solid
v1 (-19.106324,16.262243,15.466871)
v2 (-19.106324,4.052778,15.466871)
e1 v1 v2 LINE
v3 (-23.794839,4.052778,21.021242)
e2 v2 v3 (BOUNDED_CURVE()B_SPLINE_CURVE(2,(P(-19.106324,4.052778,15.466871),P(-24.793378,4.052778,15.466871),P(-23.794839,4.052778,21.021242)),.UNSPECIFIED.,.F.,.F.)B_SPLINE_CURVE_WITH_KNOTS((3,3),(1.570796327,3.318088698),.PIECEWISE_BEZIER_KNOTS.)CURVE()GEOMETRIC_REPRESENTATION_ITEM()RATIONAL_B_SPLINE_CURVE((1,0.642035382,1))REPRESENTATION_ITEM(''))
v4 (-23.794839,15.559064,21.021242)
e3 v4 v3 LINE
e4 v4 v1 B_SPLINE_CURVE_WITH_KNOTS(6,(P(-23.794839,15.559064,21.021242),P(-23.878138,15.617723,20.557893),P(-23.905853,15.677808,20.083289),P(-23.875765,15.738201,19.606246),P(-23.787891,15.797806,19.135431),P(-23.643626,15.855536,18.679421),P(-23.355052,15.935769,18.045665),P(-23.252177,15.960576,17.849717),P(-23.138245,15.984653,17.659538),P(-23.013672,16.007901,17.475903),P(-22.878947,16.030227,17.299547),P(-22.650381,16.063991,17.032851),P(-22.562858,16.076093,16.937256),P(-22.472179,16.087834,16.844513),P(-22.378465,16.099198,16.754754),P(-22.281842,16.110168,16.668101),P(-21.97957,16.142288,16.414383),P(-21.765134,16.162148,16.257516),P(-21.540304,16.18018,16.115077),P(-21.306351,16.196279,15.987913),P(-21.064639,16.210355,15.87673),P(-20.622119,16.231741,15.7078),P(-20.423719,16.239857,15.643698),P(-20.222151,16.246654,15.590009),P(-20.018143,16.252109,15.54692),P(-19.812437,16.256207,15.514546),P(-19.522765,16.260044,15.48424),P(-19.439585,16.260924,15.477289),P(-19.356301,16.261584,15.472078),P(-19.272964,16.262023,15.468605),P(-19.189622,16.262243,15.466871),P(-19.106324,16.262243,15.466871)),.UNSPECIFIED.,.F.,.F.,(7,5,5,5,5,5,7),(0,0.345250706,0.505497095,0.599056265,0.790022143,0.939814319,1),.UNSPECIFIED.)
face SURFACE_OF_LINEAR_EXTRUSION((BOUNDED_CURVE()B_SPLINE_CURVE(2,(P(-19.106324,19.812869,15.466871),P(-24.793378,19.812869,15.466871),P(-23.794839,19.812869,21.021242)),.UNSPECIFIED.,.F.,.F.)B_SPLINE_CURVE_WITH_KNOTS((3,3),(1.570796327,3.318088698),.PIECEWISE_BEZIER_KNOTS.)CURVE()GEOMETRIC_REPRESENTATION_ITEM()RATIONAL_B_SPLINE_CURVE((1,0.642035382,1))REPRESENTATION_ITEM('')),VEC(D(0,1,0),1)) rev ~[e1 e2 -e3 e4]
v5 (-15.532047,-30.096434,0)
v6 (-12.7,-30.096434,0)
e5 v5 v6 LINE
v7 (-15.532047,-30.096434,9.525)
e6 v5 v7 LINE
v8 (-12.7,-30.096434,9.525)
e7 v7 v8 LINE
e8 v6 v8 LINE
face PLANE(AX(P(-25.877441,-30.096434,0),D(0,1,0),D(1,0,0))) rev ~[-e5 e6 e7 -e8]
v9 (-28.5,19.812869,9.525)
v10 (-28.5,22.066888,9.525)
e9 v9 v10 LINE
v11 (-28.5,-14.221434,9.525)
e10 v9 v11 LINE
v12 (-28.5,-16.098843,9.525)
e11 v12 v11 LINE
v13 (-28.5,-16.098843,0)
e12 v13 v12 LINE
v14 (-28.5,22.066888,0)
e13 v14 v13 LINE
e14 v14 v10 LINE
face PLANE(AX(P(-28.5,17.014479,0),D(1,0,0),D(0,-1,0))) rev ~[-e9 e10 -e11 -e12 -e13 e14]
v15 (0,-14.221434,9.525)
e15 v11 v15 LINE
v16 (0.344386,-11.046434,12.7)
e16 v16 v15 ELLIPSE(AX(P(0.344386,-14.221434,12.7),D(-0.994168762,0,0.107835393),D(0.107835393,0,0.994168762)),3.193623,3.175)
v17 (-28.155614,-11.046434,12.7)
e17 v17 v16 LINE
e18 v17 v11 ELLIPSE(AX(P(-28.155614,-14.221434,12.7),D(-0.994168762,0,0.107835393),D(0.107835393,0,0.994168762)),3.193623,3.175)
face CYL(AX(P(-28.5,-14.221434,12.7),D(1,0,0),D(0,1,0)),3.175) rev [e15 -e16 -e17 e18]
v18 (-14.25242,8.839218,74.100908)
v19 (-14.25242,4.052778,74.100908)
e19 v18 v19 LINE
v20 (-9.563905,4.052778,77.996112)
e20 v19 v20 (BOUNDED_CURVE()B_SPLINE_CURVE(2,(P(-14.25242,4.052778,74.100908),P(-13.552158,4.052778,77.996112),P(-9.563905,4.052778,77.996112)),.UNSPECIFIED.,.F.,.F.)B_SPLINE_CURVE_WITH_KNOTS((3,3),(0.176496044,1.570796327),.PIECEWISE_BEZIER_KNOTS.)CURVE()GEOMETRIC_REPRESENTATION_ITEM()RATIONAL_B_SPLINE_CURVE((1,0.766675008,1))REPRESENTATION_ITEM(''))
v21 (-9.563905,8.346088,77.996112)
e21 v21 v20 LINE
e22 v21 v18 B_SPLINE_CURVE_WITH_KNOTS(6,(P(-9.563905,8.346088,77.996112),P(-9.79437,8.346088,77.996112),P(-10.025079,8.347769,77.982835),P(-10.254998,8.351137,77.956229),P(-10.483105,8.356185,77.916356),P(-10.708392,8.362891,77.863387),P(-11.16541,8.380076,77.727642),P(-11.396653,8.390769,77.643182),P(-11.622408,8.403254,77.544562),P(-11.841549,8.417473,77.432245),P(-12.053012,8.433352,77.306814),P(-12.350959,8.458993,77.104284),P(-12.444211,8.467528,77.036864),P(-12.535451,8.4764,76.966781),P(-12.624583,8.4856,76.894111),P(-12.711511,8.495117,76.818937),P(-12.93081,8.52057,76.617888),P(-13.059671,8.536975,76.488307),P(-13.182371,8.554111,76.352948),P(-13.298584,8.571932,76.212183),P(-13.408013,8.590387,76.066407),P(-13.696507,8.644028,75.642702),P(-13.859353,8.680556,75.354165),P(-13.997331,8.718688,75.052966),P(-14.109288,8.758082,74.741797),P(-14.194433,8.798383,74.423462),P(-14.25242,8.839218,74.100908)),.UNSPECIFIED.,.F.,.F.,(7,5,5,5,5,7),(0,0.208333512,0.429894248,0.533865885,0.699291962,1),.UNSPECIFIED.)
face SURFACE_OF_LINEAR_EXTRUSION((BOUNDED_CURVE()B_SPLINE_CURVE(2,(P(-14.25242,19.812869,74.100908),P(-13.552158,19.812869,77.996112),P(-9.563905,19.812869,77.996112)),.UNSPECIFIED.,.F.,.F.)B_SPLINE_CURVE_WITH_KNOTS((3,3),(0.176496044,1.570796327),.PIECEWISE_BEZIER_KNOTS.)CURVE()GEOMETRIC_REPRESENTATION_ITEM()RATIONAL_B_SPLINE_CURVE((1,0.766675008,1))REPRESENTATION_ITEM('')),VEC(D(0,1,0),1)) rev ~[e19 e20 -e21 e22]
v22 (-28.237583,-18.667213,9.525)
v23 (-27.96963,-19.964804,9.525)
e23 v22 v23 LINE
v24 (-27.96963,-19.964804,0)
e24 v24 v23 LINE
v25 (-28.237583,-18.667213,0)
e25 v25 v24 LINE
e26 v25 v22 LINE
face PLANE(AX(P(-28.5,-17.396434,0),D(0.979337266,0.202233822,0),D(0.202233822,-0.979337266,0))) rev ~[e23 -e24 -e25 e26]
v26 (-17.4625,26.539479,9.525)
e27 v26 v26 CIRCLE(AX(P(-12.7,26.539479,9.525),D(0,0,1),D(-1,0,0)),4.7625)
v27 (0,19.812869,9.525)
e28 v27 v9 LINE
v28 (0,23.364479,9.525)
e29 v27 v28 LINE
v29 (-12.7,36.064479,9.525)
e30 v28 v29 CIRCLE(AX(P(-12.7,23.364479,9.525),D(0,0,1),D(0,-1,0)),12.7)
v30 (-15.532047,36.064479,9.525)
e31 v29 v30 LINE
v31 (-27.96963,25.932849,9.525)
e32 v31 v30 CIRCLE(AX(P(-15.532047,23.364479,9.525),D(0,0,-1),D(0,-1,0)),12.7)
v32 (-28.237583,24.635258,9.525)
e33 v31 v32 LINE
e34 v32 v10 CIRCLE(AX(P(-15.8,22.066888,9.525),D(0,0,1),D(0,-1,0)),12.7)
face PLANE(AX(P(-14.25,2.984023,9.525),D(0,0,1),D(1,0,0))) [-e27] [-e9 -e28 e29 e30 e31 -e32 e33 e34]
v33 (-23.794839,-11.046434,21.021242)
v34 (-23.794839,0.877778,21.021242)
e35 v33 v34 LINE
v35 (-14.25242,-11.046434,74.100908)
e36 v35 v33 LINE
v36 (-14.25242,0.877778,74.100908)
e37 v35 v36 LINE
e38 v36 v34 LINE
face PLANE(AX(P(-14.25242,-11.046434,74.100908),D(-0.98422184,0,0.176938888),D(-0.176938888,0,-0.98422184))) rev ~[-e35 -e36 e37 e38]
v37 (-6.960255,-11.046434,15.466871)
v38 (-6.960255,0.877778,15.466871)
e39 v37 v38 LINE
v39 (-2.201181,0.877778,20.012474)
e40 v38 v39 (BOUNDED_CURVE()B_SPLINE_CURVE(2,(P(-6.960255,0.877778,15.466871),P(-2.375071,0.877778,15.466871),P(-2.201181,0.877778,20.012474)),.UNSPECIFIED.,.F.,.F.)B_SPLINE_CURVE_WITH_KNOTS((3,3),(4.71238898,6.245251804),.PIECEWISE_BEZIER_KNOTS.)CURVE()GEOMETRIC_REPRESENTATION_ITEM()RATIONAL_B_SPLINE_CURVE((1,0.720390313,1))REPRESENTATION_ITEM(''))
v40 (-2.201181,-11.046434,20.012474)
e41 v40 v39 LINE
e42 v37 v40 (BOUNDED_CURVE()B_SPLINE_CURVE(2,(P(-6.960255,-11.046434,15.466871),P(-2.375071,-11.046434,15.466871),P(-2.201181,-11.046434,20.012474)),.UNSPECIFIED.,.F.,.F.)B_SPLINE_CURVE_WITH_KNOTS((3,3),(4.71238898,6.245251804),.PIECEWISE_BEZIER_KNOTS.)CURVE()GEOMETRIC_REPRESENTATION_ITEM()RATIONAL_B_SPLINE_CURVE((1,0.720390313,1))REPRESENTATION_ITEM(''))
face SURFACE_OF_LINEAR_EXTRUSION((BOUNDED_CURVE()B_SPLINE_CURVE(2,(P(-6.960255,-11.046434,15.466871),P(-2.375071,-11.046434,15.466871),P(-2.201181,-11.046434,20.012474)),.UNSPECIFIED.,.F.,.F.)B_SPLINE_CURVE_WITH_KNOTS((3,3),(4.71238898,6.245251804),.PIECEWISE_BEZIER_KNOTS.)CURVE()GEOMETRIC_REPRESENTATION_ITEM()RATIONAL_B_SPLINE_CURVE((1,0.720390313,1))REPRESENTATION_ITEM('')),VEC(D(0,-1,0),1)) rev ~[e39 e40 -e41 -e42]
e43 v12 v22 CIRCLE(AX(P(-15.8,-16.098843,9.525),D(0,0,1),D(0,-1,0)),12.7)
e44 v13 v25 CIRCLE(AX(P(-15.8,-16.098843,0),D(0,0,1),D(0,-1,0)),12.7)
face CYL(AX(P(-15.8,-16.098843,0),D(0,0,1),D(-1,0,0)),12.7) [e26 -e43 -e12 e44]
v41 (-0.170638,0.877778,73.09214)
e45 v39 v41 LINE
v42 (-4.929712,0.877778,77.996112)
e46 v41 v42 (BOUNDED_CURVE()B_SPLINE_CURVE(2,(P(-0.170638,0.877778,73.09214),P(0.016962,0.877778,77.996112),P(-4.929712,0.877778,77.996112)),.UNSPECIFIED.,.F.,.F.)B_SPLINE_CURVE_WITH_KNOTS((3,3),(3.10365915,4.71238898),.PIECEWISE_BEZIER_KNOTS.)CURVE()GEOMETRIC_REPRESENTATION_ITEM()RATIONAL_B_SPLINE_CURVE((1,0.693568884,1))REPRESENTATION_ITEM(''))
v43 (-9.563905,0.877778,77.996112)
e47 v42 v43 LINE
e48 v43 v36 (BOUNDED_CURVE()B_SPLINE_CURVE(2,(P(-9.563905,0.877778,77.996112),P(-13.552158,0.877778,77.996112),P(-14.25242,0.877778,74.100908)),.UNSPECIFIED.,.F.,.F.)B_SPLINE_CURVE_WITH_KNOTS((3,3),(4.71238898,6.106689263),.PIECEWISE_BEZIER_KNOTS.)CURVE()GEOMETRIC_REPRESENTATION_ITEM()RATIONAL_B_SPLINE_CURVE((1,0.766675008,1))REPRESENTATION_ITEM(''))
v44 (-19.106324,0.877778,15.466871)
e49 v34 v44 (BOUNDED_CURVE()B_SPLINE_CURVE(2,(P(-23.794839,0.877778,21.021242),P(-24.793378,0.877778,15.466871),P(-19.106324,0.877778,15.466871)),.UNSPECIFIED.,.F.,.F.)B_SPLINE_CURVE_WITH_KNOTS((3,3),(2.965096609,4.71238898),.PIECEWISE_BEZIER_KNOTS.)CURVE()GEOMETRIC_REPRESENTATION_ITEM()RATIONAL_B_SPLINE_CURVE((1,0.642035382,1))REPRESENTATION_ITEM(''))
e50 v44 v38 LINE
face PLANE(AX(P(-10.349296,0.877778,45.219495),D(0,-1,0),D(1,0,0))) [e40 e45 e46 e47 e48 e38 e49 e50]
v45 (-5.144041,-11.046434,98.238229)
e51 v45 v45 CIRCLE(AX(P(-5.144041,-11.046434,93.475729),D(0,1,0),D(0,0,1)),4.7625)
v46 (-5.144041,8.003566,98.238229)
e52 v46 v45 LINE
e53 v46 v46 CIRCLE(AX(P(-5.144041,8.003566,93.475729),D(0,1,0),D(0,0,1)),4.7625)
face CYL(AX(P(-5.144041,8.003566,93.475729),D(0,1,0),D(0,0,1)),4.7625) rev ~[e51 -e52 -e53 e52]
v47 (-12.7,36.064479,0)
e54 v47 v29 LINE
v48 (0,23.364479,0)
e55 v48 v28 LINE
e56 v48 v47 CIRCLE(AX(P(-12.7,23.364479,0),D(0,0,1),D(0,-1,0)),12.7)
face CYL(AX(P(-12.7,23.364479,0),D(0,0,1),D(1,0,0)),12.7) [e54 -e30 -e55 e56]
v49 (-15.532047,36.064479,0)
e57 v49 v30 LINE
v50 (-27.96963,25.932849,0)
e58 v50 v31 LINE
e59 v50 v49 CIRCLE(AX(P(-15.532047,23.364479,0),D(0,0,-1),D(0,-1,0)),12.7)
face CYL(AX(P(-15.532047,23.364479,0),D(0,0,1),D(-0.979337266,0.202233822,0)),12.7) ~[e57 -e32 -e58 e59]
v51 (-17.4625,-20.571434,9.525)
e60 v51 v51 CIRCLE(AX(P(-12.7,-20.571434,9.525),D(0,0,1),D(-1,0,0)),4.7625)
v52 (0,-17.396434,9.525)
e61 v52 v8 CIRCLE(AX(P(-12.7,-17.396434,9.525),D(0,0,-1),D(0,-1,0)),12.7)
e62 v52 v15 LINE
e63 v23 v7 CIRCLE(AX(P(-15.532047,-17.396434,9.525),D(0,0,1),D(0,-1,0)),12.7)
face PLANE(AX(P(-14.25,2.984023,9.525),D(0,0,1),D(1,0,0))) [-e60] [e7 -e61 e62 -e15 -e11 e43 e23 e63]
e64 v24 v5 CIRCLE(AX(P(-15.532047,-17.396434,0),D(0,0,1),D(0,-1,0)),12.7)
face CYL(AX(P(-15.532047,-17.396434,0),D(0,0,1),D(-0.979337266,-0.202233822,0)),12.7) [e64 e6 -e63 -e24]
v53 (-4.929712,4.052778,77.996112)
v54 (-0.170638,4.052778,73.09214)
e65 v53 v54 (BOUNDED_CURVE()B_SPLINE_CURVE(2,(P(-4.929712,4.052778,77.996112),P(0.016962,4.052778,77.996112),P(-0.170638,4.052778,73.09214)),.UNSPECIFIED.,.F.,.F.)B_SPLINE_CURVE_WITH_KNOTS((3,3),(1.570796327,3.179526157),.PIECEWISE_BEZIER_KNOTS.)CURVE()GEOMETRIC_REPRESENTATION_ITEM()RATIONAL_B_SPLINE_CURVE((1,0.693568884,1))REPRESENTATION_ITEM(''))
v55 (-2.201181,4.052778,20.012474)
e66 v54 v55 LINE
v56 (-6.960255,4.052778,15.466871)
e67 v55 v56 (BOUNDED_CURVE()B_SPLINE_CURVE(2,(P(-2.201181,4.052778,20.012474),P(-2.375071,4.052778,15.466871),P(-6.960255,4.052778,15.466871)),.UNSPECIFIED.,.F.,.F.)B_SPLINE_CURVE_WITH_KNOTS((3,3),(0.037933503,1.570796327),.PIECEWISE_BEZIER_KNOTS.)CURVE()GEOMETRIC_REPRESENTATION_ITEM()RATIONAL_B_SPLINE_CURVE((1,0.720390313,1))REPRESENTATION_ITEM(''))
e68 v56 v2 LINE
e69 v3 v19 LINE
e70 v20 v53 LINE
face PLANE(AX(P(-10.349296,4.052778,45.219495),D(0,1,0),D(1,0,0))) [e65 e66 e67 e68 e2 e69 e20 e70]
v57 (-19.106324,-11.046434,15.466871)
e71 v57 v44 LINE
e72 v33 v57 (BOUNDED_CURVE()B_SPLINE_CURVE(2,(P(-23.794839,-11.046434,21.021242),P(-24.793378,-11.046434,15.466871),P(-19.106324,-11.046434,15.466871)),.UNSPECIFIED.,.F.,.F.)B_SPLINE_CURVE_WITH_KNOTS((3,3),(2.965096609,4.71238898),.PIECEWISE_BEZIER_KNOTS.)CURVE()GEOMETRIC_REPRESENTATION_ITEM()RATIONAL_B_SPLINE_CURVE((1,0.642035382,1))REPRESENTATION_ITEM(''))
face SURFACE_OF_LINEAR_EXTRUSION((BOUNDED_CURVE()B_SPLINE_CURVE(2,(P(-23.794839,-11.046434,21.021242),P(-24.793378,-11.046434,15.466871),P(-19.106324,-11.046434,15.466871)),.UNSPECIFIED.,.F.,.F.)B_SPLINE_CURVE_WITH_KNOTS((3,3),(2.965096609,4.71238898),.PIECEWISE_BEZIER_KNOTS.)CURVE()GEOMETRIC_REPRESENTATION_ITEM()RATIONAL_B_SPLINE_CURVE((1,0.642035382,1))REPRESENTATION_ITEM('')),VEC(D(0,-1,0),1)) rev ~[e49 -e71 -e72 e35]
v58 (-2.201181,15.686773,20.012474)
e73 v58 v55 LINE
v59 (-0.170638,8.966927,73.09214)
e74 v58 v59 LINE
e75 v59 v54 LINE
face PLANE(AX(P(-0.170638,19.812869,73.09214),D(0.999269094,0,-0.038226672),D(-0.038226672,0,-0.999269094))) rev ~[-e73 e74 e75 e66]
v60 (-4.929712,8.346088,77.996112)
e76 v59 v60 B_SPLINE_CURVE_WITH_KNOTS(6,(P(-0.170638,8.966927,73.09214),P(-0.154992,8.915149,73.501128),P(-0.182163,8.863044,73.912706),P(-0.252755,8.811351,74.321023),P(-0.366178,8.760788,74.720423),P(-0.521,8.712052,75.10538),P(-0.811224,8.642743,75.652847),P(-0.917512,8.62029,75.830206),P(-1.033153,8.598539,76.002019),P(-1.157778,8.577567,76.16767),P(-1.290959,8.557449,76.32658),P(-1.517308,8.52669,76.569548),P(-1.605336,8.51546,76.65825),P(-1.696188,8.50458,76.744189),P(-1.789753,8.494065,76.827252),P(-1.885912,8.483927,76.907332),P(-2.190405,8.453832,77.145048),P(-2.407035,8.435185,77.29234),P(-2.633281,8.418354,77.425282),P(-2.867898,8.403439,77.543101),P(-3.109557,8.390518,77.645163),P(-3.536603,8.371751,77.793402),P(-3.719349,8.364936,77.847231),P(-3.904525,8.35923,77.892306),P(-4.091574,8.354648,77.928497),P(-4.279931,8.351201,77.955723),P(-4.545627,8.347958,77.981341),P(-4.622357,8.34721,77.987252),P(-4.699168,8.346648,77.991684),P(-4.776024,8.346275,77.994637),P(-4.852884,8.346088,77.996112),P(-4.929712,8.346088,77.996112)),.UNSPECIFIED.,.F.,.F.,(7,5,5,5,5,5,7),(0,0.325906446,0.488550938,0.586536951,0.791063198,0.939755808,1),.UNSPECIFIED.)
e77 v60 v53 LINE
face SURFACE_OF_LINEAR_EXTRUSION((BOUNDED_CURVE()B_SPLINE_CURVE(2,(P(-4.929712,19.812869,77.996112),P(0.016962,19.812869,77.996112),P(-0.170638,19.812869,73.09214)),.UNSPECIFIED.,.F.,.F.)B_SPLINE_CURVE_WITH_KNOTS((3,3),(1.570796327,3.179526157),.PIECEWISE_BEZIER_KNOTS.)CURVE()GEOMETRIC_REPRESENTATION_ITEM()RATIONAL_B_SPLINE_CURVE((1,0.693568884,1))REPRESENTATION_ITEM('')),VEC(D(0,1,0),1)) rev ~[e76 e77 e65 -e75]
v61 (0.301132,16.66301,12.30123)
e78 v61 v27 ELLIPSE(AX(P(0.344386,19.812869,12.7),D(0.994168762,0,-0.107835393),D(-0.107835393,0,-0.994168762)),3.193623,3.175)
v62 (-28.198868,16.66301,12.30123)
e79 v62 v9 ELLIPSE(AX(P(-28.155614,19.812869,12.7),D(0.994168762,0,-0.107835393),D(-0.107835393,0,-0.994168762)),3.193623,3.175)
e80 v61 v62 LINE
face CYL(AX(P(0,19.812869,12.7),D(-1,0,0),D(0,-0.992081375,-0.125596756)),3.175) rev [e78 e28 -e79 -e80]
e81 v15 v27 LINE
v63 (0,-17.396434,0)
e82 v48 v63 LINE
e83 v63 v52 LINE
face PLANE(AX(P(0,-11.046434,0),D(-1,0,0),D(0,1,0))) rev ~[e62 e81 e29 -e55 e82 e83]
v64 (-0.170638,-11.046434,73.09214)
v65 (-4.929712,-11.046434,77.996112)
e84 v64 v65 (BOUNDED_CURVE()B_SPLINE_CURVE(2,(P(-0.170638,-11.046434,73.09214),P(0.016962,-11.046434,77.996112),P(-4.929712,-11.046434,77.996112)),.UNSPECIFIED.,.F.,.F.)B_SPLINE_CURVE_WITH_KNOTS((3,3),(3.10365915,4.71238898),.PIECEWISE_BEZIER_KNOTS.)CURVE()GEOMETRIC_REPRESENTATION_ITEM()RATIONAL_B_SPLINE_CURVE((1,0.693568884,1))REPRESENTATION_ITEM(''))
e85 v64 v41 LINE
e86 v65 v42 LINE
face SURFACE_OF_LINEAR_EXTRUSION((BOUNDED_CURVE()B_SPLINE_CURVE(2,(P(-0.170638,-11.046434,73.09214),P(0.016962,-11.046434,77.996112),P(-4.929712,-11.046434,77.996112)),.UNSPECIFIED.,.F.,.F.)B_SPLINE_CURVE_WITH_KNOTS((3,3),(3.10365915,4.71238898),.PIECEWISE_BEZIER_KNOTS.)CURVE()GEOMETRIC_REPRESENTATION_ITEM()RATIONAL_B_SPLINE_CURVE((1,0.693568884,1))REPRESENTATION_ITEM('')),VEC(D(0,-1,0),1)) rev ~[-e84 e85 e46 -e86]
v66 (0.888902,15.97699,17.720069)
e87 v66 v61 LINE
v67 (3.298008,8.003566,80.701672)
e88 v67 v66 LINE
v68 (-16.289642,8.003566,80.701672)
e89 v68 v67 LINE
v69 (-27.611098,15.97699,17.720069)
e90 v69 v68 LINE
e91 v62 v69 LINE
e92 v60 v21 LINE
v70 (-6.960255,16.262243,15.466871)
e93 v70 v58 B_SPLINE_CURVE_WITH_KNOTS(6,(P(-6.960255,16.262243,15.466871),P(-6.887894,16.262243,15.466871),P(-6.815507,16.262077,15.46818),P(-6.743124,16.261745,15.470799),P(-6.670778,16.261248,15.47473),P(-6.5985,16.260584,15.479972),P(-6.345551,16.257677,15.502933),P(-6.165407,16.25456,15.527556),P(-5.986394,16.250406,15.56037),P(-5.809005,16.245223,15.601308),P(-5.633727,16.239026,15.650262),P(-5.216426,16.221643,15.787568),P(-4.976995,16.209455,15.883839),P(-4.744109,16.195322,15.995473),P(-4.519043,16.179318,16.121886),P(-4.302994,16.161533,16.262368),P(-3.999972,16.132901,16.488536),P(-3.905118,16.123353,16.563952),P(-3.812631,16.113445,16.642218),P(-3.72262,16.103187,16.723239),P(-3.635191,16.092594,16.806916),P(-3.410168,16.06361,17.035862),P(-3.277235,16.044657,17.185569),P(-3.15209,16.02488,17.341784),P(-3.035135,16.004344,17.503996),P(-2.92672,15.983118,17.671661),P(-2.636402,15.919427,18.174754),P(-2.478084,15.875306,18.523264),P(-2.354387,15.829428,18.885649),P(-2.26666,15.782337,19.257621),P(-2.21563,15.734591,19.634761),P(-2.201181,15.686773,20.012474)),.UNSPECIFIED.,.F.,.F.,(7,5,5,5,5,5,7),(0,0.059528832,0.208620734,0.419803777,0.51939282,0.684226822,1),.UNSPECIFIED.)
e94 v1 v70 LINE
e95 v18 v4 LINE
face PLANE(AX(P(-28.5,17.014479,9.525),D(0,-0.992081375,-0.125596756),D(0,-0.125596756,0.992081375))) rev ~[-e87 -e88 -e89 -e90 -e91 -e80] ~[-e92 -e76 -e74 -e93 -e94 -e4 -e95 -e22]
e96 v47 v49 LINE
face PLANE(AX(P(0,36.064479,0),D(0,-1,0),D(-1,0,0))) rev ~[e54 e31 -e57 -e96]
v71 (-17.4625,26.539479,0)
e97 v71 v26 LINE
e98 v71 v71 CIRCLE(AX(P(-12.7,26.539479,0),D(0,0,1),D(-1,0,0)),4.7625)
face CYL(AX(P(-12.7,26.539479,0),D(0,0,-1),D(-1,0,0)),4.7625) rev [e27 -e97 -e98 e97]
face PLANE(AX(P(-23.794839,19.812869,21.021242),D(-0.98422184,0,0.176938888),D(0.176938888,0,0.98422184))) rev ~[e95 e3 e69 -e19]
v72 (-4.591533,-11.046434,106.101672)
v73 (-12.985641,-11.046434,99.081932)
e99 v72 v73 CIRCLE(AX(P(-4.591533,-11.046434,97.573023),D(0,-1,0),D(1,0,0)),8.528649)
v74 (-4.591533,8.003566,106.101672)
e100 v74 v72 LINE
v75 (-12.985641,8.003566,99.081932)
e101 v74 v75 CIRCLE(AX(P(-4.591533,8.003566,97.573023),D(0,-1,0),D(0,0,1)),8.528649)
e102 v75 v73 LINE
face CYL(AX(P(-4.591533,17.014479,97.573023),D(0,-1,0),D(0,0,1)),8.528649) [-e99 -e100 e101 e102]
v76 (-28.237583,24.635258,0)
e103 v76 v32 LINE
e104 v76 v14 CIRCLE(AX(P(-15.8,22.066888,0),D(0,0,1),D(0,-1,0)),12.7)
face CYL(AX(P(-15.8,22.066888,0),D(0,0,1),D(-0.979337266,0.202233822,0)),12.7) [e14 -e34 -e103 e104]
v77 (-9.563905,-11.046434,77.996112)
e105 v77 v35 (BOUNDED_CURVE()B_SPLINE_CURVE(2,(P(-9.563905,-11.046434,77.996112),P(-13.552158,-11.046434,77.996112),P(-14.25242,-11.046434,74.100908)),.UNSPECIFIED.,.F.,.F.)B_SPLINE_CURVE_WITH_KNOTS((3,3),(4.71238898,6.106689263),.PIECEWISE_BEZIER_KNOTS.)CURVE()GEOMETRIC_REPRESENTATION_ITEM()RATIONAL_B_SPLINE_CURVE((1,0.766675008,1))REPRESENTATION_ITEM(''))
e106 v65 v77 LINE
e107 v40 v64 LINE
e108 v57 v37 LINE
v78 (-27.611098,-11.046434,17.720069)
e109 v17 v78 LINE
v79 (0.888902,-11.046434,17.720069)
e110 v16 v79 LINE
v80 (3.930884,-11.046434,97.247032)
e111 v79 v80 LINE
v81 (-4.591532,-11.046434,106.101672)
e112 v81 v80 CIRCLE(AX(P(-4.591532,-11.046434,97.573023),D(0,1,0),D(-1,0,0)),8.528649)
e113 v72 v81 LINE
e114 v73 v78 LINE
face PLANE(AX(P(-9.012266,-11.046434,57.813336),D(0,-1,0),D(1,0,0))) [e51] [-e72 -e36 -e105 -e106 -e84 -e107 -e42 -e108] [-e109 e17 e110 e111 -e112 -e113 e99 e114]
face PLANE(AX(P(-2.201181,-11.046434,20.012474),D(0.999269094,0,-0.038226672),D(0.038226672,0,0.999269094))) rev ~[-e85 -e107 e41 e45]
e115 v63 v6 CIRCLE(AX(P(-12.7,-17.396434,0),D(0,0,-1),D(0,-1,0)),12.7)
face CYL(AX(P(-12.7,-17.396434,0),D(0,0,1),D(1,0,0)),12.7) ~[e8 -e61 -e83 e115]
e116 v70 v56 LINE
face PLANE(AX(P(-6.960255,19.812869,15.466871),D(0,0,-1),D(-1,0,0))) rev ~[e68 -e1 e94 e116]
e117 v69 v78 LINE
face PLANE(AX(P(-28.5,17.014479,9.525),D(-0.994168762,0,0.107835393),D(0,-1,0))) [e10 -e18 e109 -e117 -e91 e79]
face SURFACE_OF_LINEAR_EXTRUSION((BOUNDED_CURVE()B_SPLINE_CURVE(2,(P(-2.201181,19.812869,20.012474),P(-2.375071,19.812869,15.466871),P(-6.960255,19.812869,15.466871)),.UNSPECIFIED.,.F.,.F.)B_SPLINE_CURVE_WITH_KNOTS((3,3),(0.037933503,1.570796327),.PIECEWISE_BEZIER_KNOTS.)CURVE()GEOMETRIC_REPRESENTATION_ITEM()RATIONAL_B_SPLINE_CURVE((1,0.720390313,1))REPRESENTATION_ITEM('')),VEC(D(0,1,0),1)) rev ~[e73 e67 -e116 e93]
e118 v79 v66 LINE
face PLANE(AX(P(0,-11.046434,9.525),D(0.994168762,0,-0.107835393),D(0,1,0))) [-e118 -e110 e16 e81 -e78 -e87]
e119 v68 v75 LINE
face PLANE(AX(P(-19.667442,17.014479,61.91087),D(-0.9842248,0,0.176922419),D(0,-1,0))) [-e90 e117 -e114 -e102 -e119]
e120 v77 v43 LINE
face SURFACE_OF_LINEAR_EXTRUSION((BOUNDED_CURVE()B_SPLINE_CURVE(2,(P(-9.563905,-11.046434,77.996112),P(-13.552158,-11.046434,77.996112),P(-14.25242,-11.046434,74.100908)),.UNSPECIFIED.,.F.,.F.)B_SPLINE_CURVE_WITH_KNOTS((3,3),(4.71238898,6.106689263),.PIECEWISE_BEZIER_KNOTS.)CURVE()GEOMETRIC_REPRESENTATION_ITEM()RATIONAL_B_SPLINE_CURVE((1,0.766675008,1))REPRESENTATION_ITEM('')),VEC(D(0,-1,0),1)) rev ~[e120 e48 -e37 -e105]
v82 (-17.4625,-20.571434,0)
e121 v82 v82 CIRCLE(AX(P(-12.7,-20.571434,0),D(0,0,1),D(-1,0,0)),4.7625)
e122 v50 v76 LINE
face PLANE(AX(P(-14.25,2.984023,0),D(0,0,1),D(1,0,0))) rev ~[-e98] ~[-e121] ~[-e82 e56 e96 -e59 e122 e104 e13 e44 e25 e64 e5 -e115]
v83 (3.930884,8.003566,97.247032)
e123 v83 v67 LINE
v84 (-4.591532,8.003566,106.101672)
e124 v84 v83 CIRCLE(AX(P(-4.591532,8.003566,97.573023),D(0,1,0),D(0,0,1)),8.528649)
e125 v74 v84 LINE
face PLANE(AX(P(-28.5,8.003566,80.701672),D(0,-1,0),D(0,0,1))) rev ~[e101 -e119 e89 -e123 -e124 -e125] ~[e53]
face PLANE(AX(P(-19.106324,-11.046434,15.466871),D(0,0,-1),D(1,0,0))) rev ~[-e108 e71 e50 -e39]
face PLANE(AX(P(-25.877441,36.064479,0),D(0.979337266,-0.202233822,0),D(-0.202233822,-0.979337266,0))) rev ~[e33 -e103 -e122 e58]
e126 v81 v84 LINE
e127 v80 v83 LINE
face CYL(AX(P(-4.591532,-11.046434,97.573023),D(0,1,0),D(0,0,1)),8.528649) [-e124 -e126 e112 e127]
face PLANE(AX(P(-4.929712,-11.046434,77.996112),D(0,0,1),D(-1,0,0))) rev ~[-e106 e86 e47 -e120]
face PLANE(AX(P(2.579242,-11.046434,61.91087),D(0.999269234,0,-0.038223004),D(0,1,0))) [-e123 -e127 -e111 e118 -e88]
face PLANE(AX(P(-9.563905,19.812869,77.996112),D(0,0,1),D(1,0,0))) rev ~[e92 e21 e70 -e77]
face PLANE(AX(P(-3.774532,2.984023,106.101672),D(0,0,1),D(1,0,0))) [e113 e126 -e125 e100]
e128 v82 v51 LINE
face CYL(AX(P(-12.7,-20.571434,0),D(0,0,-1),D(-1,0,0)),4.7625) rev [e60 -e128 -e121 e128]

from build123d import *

# Parameters (mm, degrees)
SKETCH1_R           = 4.762499999999989
SKETCH1_R_2         = 4.762500000000005
BOSS_EXTRUDE1_DEPTH = 9.525
CHAMFER1_SIZE       = 88.89999999999999
CHAMFER1_SIZE2      = 6.20588556630559
CHAMFER2_SIZE       = 88.89999999999999
CHAMFER2_SIZE2      = 6.300746042301969
FILLET1_R           = 8.528649
CUT_EXTRUDE2_DEPTH  = 117.6635246642072
FILLET4_R           = 3.175
FILLET5_R           = 12.7
FILLET6_R           = 12.7
SKETCH15_R          = 4.762499999999997
CUT_EXTRUDE7_DEPTH  = 117.28166143642893
FILLET9_R           = 12.7
CUT_EXTRUDE8_DEPTH  = 15.760091062
CUT_EXTRUDE9_DEPTH  = 11.924211795


with BuildPart() as part:
    # Sketch1 → Boss-Extrude1 (new body)
    # profile 1 of 3: a face of its own
    with BuildSketch(Plane.XY):
        Polygon((-28.50000000000001, 23.36447913627793), (-28.500000000000007, 17.01447913627793), (-1.421e-14, 17.01447913627793), (-1.388e-14, 36.06447913627791), (-25.877441230163292, 36.06447913627793), align=None)
        with Locations(Location((-12.700000000000017, 26.539479136277926, 0), (0, 0, 180))):
            Circle(SKETCH1_R, mode=Mode.SUBTRACT)
    # profile 2 of 3: a face of its own
    with BuildSketch(Plane.XY):
        Polygon((1.421e-14, -11.046434023496033), (-28.499999999999996, -11.046434023496033), (-28.499999999999996, -17.396434023496035), (-25.877441230163278, -30.09643402349603), (1.421e-14, -30.09643402349603), align=None)
        with Locations(Location((-12.699999999999989, -20.571434023496032, 0), (0, 0, 180))):
            Circle(SKETCH1_R_2, mode=Mode.SUBTRACT)
    # profile 3 of 3: a face of its own
    with BuildSketch(Plane.XY):
        Polygon((-28.500000000000007, 17.01447913627793), (-28.5, -11.046434023496033), (1.421e-14, -11.046434023496033), (-5.89e-15, 17.014479136277927), align=None)
    extrude(amount=BOSS_EXTRUDE1_DEPTH)

    # Sweep1: sweep along a path in Sketch4
    with BuildLine(Plane(origin=(0, -11.046434023496033, 0), x_dir=(1, 0, 0), z_dir=(0, 1, 0))) as sweep1_path:
        Line((-14.249999999999991, -9.525), (-5.144041152540681, -93.4757286489478))
        Line((-5.144041152540681, -93.4757286489478), (-3.7745316583277084, -106.10167193035296))
    # Sketch3 → Sweep1 (sweep)
    with BuildSketch(Plane.XY.offset(9.525)):
        Polygon((-28.499999999999996, -11.046434023496033), (1.388e-14, -11.046434023496033), (-1.388e-14, 17.01447913627793), (-28.50000000000001, 17.01447913627793), align=None)
    sweep(path=sweep1_path.line)

    # Chamfer1
    chamfer1_edges = [part.edges().sort_by_distance(p)[0] for p in [
        (10.475468341672286, 2.9840225563909506, 106.10167193035296),
    ]]
    chamfer1_side = [part.faces().sort_by_distance(p)[0] for p in [
        (5.237734170836156, 2.9840225563909497, 57.813335965176485),
    ]]
    chamfer(chamfer1_edges, length=CHAMFER1_SIZE, length2=CHAMFER1_SIZE2, reference=chamfer1_side[0])

    # Chamfer2
    chamfer2_edges = [part.edges().sort_by_distance(p)[0] for p in [
        (-18.02453165832772, 2.984022556390949, 106.10167193035296),
    ]]
    chamfer2_side = [part.faces().sort_by_distance(p)[0] for p in [
        (-23.26226582916385, 2.9840225563909497, 57.813335965176506),
    ]]
    chamfer(chamfer2_edges, length=CHAMFER2_SIZE, length2=CHAMFER2_SIZE2, reference=chamfer2_side[0])

    # Fillet1
    fillet1_edges = [part.edges().sort_by_distance(p)[0] for p in [
        (4.269582775366721, 2.984022556390949, 106.10167193035296),
        (-11.72378561602573, 2.984022556390949, 106.10167193035296),
    ]]
    fillet(fillet1_edges, radius=FILLET1_R)

    # Sketch6 → Cut-Extrude2 (cut, through all)
    with BuildSketch(Plane.ZY.offset(28.500000000000004)):
        Polygon((106.10167193035296, -11.046434023496188), (93.47572864894777, -11.0464340234961), (80.70167193035297, -11.046434023496028), (114.70610576395035, -29.45752993708947), (128.32769329374543, 30.37810454166645), (17.720068960516624, 36.90132837728653), (9.525, 17.01447913627794), (80.70167193035296, 8.003565976503989), (106.10167193035296, 8.003565976503813), align=None)
    extrude(amount=-CUT_EXTRUDE2_DEPTH, mode=Mode.SUBTRACT)

    # Fillet4
    fillet4_edges = [part.edges().sort_by_distance(p)[0] for p in [
        (-14.249999999999995, -11.046434023496033, 9.525),
        (-14.25000000000001, 17.01447913627793, 9.525),
    ]]
    fillet(fillet4_edges, radius=FILLET4_R)

    # Fillet5
    fillet5_edges = [part.edges().sort_by_distance(p)[0] for p in [
        (-28.50000000000001, 23.36447913627793, 4.7625),
    ]]
    fillet(fillet5_edges, radius=FILLET5_R)

    # Fillet6
    fillet6_edges = [part.edges().sort_by_distance(p)[0] for p in [
        (-1.404e-14, 36.06447913627791, 4.7625),
        (-25.877441230163292, 36.06447913627793, 4.7625),
    ]]
    fillet(fillet6_edges, radius=FILLET6_R)

    # Sketch15 → Cut-Extrude7 (cut, through all)
    with BuildSketch(Plane(origin=(-2.72e-15, 8.00356597650455, 5.575e-14), x_dir=(1, 3.4e-16, -6e-17), z_dir=(-3.4e-16, 1, 6.99e-15))):
        with Locations(Location((-5.144041152540378, -93.47572864894777, 0), (0, 0, 270))):
            Circle(SKETCH15_R)
    extrude(amount=-CUT_EXTRUDE7_DEPTH, mode=Mode.SUBTRACT)

    # Fillet9
    fillet9_edges = [part.edges().sort_by_distance(p)[0] for p in [
        (1.404e-14, -30.09643402349603, 4.7625),
        (-25.877441230163278, -30.09643402349603, 4.7625),
        (-28.499999999999996, -17.396434023496035, 4.7625),
    ]]
    fillet(fillet9_edges, radius=FILLET9_R)

    # Sketch17 → Cut-Extrude8 (cut)
    with BuildSketch(Plane(origin=(0, 19.81286883339098, 0), x_dir=(1, 0, 0), z_dir=(0, 1, 0))):
        with BuildLine():
            Line((-23.794838845791546, -21.021241844192982), (-14.252419863558526, -74.10090839762722))
            add(Edge.make_bspline(
                [(-14.252419863558526, -74.10090839762722), (-13.55215795886545, -77.99611237791656), (-9.563905474722917, -77.99611237791653)],
                knots=[0.17649604429034987, 0.17649604429034987, 0.17649604429034987, 1.5707963267949046, 1.5707963267949046, 1.5707963267949046], degree=2, weights=[1, 0.7666750083054215, 1]))
            Line((-9.563905474722917, -77.99611237791653), (-4.929711575818474, -77.99611237791652))
            add(Edge.make_bspline(
                [(-4.929711575818474, -77.99611237791652), (0.01696199328928838, -77.99611237791657), (-0.17063766624835885, -73.09214006513507)],
                knots=[1.5707963267948917, 1.5707963267948917, 1.5707963267948917, 3.179526156898573, 3.179526156898573, 3.179526156898573], degree=2, weights=[1, 0.693568883905337, 1]))
            Line((-0.17063766624835885, -73.09214006513507), (-2.201180813451869, -20.012473511700826))
            add(Edge.make_bspline(
                [(-2.201180813451869, -20.012473511700826), (-2.3750711783370813, -15.466870726714172), (-6.960254723021984, -15.466870726714202)],
                knots=[0.03793350330876585, 0.03793350330876585, 0.03793350330876585, 1.5707963267949063, 1.5707963267949063, 1.5707963267949063], degree=2, weights=[1, 0.7203903131485674, 1]))
            Line((-6.960254723021984, -15.466870726714202), (-19.10632445695594, -15.466870726714204))
            add(Edge.make_bspline(
                [(-19.10632445695594, -15.466870726714204), (-24.79337820798673, -15.466870726714157), (-23.794838845791546, -21.021241844192982)],
                knots=[1.5707963267948915, 1.5707963267948915, 1.5707963267948915, 3.318088697880159, 3.318088697880159, 3.318088697880159], degree=2, weights=[1, 0.6420353819221085, 1]))
        make_face()
    extrude(amount=-CUT_EXTRUDE8_DEPTH, mode=Mode.SUBTRACT)

    # Sketch18 → Cut-Extrude9 (cut)
    with BuildSketch(Plane.XZ.offset(11.046434023496033)):
        with BuildLine():
            Line((-4.929711575818475, 77.99611237791653), (-9.563905474722917, 77.99611237791653))
            add(Edge.make_bspline(
                [(-9.563905474722917, 77.99611237791653), (-13.55215795886545, 77.99611237791656), (-14.252419863558526, 74.10090839762722)],
                knots=[4.712388980384682, 4.712388980384682, 4.712388980384682, 6.106689262889237, 6.106689262889237, 6.106689262889237], degree=2, weights=[1, 0.7666750083054213, 1]))
            Line((-14.252419863558526, 74.10090839762722), (-23.794838845791546, 21.021241844192982))
            add(Edge.make_bspline(
                [(-23.794838845791546, 21.021241844192982), (-24.79337820798673, 15.466870726714156), (-19.10632445695594, 15.466870726714204)],
                knots=[2.9650966092994273, 2.9650966092994273, 2.9650966092994273, 4.712388980384695, 4.712388980384695, 4.712388980384695], degree=2, weights=[1, 0.6420353819221084, 1]))
            Line((-19.10632445695594, 15.466870726714204), (-6.960254723021985, 15.466870726714204))
            add(Edge.make_bspline(
                [(-6.960254723021985, 15.466870726714204), (-2.3750711783370777, 15.46687072671417), (-2.201180813451869, 20.012473511700826)],
                knots=[4.71238898038468, 4.71238898038468, 4.71238898038468, 6.245251803870821, 6.245251803870821, 6.245251803870821], degree=2, weights=[1, 0.7203903131485672, 1]))
            Line((-2.201180813451869, 20.012473511700826), (-0.17063766624835808, 73.09214006513507))
            add(Edge.make_bspline(
                [(-0.17063766624835808, 73.09214006513507), (0.0169619932892866, 77.99611237791657), (-4.929711575818475, 77.99611237791653)],
                knots=[3.103659150281014, 3.103659150281014, 3.103659150281014, 4.712388980384695, 4.712388980384695, 4.712388980384695], degree=2, weights=[1, 0.693568883905337, 1]))
        make_face()
    extrude(amount=-CUT_EXTRUDE9_DEPTH, mode=Mode.SUBTRACT)


solid = part.part
